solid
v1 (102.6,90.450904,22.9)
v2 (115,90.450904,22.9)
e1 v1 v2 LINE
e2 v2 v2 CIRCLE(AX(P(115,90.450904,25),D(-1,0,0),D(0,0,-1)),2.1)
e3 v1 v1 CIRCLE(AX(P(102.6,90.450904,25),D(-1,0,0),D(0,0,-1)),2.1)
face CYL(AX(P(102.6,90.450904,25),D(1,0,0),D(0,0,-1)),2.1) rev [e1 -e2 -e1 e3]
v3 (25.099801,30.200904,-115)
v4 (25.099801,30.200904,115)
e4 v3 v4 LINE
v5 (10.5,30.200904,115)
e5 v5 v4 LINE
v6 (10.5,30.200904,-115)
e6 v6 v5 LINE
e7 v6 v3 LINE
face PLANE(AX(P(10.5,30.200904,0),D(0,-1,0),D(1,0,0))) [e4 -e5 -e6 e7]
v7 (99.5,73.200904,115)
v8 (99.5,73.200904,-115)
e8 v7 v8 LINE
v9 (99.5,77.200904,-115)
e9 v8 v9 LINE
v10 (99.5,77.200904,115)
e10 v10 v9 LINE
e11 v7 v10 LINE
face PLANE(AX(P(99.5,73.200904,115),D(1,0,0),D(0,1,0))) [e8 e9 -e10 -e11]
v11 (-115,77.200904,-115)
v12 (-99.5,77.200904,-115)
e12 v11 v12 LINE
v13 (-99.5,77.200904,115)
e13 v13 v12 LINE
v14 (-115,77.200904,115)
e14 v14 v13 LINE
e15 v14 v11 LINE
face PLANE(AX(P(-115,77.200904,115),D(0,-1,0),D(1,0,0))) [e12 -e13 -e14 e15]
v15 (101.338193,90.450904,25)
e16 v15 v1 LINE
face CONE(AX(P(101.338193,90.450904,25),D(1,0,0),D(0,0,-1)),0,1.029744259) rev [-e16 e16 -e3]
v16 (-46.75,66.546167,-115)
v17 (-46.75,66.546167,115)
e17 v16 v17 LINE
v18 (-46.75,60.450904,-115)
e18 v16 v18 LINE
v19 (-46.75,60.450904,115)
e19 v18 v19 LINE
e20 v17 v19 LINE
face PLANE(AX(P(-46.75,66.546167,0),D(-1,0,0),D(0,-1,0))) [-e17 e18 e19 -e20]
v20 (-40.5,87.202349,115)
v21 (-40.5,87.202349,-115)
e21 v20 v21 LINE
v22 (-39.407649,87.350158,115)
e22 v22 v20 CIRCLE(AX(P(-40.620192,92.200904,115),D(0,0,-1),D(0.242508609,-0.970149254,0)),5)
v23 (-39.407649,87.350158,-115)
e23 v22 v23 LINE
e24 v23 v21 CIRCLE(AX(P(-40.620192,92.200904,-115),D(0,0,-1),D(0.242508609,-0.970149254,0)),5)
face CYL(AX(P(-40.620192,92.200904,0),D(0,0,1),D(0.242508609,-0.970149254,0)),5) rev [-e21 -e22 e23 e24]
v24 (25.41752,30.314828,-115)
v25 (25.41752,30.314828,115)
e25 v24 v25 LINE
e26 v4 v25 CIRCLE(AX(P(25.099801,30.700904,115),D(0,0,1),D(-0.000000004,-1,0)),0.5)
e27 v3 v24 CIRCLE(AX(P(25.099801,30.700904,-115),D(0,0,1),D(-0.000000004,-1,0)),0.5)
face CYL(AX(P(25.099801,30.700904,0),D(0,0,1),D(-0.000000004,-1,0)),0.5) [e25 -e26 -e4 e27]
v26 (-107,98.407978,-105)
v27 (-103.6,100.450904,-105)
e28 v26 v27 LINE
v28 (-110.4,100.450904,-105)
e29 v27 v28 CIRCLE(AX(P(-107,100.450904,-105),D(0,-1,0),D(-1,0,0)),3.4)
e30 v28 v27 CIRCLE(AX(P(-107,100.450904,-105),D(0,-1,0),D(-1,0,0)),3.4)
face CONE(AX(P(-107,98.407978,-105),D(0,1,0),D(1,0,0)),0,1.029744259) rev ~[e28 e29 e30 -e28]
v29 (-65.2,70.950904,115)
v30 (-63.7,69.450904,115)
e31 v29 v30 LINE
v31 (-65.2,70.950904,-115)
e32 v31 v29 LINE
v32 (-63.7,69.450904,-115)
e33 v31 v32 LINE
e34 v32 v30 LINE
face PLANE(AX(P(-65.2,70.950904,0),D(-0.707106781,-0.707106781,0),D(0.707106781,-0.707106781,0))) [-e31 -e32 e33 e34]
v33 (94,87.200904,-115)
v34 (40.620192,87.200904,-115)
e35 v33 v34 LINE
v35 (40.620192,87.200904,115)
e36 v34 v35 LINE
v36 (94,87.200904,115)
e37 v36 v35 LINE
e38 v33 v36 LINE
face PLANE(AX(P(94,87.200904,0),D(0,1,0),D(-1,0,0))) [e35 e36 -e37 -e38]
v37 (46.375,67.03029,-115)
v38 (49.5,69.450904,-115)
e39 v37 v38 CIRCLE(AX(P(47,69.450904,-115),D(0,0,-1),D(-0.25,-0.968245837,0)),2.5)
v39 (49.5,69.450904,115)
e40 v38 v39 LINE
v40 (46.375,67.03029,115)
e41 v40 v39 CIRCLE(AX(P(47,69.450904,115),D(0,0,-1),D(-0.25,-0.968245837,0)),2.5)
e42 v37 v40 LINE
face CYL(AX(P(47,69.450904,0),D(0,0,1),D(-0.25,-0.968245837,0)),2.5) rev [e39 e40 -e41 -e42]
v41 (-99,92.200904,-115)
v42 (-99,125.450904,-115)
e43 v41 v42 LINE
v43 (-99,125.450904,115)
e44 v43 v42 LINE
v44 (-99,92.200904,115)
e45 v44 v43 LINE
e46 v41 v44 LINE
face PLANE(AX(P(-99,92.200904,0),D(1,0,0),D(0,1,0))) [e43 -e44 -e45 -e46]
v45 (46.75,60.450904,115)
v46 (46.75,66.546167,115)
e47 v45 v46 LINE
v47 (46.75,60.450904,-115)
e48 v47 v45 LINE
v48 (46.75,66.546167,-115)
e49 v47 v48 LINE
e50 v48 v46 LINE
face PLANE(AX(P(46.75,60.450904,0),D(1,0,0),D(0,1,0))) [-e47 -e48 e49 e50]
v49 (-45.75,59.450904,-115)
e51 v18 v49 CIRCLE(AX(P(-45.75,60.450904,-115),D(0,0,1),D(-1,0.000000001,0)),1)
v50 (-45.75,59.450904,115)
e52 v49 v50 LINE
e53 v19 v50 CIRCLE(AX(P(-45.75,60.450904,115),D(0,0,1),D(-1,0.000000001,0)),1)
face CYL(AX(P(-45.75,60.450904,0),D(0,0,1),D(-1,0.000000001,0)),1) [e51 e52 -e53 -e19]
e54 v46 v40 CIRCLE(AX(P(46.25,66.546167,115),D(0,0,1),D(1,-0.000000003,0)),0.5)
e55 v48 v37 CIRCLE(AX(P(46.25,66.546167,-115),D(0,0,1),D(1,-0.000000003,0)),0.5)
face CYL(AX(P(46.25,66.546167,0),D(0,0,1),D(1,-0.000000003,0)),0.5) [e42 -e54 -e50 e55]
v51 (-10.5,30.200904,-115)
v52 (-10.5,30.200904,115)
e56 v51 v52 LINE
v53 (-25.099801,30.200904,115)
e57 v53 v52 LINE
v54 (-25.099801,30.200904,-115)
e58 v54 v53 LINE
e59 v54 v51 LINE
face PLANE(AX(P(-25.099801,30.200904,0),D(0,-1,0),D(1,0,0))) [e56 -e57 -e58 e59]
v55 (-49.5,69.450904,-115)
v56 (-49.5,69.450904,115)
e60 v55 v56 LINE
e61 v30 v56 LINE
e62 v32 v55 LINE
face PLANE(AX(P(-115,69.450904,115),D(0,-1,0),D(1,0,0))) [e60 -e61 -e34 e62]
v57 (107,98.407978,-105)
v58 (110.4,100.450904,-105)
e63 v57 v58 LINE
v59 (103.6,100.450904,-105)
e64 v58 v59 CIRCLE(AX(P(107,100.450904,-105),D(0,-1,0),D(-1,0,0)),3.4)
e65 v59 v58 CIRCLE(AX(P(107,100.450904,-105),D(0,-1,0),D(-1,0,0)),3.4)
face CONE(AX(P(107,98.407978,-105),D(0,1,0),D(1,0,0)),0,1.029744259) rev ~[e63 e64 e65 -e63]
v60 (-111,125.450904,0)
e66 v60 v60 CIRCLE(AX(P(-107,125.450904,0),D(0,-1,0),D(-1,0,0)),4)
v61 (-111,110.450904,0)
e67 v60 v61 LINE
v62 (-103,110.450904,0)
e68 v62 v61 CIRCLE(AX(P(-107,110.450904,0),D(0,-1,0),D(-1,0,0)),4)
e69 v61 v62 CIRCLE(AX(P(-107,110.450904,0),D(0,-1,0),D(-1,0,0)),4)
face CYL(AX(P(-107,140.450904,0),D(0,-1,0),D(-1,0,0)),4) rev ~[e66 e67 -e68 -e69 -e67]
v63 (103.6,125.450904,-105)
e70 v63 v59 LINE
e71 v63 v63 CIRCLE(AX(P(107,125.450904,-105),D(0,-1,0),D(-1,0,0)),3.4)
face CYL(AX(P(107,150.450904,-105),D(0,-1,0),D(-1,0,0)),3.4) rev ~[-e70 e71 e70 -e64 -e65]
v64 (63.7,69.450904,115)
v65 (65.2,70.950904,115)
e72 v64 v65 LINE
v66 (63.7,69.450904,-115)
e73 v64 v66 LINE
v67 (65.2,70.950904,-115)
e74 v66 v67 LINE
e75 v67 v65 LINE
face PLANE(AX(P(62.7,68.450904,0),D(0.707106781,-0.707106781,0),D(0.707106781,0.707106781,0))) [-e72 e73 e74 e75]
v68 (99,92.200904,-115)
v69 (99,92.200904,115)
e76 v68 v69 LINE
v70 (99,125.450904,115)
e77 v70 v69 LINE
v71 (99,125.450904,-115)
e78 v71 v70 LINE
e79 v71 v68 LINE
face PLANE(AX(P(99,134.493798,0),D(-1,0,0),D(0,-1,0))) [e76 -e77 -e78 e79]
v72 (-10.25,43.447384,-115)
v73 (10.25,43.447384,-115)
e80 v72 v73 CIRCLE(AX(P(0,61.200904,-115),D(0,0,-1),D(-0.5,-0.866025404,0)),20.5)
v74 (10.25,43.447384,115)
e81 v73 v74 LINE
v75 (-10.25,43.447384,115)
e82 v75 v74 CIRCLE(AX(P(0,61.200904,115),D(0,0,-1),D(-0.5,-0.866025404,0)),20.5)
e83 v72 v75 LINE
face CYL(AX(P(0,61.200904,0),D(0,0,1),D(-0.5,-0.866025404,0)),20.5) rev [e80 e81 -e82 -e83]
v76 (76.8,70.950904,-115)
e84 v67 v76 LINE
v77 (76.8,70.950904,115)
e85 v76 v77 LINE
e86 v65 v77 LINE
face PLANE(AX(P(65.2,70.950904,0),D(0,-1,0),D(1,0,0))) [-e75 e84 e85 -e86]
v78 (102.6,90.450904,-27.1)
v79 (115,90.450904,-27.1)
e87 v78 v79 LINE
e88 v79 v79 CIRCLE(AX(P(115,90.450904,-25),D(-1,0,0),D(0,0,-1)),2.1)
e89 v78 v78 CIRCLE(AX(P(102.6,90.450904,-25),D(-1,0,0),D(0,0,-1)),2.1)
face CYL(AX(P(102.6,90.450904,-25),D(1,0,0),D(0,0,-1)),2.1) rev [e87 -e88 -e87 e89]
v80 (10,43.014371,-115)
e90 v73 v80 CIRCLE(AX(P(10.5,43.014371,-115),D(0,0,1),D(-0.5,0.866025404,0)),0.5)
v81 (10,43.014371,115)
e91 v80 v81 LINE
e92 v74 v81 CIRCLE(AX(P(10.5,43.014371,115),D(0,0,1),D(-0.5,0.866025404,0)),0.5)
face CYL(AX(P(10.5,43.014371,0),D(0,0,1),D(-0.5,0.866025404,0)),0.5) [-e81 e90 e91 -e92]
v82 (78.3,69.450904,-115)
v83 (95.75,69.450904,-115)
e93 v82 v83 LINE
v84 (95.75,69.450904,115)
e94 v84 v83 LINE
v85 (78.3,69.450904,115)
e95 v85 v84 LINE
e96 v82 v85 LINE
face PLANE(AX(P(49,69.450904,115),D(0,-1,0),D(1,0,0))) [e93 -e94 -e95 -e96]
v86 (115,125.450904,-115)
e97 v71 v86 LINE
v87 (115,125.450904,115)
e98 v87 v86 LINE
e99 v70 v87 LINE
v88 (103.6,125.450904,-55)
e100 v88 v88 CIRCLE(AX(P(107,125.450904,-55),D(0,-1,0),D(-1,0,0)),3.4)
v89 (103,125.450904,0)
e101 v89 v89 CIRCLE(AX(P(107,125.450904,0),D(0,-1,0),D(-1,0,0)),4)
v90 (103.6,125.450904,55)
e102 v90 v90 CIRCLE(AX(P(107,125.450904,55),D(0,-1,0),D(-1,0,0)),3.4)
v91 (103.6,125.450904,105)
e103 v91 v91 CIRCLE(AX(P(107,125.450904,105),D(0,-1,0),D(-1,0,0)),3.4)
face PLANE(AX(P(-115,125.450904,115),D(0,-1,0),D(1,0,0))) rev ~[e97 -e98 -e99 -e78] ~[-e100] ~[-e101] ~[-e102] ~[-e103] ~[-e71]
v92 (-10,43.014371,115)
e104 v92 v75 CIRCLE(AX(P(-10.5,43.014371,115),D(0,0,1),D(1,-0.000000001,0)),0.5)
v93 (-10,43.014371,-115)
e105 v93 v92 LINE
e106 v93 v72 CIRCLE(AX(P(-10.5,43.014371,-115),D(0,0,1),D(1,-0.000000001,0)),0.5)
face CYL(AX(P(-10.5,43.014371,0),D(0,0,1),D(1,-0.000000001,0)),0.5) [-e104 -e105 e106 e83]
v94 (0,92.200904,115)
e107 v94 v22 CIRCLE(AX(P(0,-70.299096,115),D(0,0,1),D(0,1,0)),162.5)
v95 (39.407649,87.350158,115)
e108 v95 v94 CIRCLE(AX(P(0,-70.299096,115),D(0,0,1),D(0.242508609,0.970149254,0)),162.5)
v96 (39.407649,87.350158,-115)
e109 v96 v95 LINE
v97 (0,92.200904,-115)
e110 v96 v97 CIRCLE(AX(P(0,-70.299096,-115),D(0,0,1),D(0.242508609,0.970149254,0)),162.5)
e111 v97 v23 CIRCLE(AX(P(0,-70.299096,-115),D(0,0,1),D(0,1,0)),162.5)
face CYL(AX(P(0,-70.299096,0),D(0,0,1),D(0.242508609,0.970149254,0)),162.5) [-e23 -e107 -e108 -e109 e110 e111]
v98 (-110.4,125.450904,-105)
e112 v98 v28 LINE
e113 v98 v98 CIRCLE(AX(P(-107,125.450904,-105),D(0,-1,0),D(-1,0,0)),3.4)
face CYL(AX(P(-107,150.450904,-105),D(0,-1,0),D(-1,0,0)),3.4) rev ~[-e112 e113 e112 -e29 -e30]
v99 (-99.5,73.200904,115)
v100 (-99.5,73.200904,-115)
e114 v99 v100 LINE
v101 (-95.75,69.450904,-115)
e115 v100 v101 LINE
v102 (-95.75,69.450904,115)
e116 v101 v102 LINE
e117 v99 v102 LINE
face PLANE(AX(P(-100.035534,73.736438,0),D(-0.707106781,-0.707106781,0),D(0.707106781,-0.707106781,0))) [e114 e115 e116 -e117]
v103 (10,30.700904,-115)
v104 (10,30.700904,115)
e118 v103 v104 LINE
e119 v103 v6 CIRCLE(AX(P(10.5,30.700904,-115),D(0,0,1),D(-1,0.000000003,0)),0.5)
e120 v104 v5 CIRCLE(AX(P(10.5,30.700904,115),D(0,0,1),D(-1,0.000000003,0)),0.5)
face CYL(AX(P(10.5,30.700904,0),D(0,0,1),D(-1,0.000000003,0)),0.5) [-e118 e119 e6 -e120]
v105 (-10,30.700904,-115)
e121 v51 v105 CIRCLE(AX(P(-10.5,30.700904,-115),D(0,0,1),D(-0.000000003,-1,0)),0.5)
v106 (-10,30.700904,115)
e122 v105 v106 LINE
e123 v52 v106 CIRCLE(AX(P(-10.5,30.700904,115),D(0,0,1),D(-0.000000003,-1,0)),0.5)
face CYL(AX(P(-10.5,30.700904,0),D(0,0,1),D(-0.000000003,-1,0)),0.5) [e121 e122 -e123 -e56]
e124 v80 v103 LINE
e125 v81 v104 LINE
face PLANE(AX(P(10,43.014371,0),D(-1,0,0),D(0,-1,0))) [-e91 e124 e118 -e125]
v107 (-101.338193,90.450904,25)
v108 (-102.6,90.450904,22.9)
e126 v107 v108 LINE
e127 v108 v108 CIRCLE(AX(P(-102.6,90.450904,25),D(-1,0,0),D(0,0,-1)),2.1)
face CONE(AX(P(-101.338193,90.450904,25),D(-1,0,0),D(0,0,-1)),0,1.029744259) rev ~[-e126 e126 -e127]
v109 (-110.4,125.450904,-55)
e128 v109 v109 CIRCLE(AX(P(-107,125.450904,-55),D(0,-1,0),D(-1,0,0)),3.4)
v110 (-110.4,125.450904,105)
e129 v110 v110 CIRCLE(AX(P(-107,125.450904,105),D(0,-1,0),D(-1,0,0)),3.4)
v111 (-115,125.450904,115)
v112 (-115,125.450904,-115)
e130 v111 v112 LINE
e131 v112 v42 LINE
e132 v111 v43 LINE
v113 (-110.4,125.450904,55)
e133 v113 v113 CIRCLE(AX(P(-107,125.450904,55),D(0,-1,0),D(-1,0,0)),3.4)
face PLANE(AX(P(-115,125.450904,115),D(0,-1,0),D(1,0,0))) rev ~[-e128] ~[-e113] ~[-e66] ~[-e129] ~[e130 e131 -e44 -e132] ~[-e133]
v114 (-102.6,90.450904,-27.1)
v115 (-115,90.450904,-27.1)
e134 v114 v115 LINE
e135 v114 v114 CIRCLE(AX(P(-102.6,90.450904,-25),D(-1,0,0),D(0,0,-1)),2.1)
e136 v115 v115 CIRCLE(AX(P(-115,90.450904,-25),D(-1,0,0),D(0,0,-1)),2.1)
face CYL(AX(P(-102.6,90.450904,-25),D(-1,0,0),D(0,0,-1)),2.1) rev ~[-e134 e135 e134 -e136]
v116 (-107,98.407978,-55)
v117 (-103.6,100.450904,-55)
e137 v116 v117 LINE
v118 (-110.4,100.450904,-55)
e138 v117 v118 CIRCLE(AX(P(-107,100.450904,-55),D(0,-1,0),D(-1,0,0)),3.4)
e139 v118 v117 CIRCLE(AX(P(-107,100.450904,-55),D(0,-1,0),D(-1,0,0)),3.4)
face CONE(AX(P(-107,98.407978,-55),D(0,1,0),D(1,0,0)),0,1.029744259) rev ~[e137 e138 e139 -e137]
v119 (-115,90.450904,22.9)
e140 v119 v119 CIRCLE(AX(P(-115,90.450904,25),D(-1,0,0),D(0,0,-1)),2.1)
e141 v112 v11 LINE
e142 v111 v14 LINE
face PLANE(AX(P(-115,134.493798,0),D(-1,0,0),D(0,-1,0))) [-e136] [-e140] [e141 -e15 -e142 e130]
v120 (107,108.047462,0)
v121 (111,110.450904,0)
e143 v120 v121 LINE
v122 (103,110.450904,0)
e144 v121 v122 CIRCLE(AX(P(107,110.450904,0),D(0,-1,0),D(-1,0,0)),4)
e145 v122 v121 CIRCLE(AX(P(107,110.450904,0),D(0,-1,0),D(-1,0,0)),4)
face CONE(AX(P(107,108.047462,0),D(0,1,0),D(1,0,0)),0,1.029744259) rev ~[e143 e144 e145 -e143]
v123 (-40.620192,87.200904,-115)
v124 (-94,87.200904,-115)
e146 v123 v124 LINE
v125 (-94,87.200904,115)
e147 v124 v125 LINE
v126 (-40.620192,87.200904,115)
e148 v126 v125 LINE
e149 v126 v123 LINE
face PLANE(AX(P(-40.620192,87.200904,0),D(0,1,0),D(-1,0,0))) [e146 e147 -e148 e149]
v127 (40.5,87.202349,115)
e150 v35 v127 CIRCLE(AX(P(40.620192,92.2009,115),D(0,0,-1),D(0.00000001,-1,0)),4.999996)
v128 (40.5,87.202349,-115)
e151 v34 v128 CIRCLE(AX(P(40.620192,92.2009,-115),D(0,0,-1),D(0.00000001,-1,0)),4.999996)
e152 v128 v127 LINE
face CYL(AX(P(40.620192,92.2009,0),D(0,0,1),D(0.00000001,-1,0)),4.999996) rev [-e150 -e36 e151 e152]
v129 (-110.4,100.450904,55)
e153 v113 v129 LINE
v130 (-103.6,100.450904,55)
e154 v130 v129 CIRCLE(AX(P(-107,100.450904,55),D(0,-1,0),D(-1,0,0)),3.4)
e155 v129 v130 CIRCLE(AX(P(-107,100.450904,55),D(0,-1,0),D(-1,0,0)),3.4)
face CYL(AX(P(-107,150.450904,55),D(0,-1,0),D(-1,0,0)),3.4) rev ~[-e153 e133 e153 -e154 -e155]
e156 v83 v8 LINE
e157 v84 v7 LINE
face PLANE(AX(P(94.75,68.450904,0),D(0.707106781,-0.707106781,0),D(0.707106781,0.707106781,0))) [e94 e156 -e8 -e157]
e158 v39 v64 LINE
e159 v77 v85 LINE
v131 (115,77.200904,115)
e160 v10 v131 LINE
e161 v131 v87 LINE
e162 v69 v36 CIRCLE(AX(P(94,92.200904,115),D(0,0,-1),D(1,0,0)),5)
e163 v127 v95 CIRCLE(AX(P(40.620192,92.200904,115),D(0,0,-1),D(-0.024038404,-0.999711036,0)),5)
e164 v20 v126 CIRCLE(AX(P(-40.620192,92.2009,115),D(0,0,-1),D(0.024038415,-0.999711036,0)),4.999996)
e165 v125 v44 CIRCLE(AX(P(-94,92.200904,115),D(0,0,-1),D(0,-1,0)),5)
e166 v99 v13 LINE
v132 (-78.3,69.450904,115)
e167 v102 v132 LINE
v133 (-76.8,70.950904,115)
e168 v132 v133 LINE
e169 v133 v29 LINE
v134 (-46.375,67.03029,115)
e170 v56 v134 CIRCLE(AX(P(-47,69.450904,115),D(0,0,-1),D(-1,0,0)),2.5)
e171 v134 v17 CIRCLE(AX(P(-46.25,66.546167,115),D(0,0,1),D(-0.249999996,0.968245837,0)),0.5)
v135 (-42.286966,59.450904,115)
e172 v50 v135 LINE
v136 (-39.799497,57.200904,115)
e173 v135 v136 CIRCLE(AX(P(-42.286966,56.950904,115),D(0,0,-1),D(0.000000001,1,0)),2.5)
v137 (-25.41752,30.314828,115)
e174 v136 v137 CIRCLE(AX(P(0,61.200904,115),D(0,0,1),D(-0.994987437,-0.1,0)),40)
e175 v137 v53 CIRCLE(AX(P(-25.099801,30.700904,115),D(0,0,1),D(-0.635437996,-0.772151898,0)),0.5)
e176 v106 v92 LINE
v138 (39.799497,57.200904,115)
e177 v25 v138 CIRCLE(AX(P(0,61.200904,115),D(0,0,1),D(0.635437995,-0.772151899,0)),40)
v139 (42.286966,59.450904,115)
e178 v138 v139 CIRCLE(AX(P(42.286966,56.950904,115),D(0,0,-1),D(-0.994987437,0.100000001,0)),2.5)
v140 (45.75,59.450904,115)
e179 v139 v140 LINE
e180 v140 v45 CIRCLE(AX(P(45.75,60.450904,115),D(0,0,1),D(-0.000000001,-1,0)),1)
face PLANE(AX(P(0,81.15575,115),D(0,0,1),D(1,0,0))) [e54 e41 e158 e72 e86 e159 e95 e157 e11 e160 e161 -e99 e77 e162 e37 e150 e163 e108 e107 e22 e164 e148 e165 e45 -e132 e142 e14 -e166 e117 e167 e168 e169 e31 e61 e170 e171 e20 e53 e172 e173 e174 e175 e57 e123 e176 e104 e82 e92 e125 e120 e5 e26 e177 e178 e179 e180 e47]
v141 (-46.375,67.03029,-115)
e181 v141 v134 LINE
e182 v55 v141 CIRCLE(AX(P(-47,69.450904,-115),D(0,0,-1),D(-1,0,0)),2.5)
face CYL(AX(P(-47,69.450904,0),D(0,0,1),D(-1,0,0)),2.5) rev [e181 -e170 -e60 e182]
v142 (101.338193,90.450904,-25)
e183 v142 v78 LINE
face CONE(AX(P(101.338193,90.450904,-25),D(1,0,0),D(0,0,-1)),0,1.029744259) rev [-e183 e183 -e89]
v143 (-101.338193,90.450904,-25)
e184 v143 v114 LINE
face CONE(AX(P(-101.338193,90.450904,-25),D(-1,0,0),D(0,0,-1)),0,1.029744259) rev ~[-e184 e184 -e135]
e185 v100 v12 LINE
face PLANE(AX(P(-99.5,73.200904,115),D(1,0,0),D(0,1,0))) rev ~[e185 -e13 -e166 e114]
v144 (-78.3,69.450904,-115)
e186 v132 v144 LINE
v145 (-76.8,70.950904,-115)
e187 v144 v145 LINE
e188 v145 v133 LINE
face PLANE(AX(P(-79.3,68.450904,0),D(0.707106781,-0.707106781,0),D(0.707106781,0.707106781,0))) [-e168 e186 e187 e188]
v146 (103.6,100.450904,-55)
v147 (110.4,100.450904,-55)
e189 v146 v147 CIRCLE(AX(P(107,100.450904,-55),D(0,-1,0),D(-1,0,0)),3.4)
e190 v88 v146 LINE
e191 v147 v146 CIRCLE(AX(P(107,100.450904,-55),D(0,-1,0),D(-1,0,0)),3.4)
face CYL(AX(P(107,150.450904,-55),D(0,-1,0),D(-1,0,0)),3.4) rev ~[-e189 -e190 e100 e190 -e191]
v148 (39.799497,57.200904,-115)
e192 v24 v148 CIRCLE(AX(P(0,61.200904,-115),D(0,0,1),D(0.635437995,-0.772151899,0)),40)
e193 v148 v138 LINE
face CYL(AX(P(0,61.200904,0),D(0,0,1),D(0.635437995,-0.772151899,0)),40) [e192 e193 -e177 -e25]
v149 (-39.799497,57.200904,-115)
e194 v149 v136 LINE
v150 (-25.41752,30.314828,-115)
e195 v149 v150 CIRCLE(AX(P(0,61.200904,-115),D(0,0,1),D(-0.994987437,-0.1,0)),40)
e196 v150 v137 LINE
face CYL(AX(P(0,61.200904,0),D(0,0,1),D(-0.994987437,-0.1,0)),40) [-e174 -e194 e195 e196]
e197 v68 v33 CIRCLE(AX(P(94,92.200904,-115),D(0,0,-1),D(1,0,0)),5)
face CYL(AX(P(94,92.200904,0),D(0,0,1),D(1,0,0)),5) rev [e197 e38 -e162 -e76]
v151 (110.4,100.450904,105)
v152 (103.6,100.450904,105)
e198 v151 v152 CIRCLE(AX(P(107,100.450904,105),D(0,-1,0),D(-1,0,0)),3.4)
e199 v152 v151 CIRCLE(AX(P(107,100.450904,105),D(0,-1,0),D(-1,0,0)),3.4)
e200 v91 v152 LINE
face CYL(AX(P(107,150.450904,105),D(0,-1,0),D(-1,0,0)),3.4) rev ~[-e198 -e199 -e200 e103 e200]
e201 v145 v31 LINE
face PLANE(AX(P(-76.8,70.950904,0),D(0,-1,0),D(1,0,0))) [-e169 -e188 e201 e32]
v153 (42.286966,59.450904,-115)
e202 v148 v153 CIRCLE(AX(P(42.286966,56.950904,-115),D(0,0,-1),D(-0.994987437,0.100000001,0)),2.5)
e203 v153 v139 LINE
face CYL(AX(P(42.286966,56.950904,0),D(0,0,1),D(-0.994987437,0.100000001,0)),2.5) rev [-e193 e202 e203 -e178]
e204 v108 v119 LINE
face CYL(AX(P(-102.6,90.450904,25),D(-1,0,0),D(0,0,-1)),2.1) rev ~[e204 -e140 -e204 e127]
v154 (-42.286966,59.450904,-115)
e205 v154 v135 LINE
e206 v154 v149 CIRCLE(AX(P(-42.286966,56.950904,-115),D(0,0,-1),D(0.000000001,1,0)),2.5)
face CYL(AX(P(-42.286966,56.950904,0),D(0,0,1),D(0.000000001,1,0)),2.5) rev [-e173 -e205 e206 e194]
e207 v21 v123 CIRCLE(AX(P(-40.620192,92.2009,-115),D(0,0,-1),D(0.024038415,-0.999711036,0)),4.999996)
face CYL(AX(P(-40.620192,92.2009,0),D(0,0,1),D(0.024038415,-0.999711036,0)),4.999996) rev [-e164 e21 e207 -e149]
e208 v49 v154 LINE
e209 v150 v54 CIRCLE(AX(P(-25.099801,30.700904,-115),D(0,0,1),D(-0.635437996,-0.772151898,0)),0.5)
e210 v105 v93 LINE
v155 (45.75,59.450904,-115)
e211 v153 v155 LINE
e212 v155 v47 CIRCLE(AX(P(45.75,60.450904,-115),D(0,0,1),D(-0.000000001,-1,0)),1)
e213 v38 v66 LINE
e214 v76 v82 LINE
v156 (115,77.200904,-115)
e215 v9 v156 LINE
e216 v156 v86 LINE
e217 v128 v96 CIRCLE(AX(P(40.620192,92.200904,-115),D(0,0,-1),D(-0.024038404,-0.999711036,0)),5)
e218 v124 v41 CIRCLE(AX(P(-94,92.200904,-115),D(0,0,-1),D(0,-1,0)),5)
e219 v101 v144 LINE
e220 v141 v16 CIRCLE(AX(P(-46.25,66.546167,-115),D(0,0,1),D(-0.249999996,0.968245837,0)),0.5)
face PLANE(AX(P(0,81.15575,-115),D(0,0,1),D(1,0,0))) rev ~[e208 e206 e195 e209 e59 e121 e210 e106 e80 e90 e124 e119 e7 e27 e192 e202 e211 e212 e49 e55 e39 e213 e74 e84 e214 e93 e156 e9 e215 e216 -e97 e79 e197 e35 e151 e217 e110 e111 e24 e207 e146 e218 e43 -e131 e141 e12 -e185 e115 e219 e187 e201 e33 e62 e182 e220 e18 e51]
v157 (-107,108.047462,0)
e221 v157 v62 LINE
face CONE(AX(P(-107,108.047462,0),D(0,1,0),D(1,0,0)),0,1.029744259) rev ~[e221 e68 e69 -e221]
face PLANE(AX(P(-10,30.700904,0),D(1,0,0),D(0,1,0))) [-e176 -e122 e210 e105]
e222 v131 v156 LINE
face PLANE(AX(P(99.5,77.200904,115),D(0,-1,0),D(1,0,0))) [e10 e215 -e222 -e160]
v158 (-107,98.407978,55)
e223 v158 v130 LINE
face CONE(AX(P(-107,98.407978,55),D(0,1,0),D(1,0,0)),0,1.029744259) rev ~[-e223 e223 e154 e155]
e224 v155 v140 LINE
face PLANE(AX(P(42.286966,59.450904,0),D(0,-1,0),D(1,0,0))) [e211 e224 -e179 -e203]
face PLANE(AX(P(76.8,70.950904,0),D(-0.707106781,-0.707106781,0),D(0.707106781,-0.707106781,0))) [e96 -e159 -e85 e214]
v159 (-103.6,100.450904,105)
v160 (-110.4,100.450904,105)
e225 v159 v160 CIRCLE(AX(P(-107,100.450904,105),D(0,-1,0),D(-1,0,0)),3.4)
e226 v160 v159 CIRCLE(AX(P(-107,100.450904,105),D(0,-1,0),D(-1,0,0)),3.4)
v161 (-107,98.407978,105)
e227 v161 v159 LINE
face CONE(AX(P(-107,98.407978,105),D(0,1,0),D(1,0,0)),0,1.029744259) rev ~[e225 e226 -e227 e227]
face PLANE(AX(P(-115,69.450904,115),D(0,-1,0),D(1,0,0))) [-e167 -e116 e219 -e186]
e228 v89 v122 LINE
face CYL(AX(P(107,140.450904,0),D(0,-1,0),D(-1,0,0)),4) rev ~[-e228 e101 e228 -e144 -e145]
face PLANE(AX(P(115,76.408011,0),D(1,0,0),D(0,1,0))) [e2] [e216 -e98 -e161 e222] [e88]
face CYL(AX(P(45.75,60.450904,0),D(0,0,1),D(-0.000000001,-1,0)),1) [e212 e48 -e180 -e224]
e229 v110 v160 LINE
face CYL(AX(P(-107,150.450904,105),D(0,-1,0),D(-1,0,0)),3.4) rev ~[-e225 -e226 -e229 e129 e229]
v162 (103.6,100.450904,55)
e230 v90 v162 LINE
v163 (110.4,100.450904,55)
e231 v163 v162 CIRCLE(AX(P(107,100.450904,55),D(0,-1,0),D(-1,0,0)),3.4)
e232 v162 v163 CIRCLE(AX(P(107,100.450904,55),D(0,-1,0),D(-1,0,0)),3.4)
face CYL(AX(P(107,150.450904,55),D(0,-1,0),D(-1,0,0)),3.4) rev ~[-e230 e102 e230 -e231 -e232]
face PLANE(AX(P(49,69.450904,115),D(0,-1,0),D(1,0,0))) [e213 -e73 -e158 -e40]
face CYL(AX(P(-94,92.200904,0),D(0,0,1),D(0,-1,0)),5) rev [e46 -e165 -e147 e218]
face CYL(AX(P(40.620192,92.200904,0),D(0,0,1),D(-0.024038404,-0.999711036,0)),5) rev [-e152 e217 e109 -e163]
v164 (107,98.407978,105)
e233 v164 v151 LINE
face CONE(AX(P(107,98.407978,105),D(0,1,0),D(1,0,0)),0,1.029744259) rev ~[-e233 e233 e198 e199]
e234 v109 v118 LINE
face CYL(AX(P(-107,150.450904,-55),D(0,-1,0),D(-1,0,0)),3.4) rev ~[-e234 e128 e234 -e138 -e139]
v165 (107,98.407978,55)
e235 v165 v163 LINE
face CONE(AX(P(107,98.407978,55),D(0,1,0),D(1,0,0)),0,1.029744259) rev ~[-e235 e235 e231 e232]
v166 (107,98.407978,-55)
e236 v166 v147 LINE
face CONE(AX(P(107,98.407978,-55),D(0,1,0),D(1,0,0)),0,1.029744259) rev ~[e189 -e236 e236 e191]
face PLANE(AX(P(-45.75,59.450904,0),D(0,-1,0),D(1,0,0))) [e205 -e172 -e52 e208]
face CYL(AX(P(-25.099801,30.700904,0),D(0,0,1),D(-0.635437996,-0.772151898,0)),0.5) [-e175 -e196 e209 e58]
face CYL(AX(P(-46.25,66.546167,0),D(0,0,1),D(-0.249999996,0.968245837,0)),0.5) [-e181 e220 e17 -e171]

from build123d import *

# Parameters (mm, degrees)
EXTRUDE_1_DEPTH             = 115
SKETCH_2_W                  = 66
SKETCH_2_H                  = 5
SKETCH_2_W_2                = 230
SKETCH_2_H_2                = 11.25
SKETCH_2_W_3                = 15.5
SKETCH_2_H_3                = 4
CUT_EXTRUDE_1_DEPTH         = 292.225234599
HOLE_WIZARD_M8_1_D          = 6.8
HOLE_WIZARD_M8_1_DEPTH      = 25
HOLE_WIZARD_M8_1_TIP        = 2.042926105
MM_1_D                      = 8
MM_1_DEPTH                  = 15
MM_1_TIP                    = 2.403442476
HOLE_WIZARD_M5_1_AT_2_COUNT = 2
HOLE_WIZARD_M5_1_AT_2_PITCH = 50


with BuildPart() as part:
    # 草图1 → 凸台-拉伸1 (new, symmetric)
    with BuildSketch(Plane.XY):
        with BuildLine():
            Line((-40.620192023, 87.200904414), (-94, 87.200904414))
            ThreePointArc((-94, 87.200904414), (-97.535533906, 88.665370508), (-99, 92.200904414))
            Line((-99, 92.200904414), (-99, 134.493797632))
            ThreePointArc((-99, 134.493797632), (-99.038060234, 134.685139349), (-99.146446609, 134.847351023))
            Line((-99.146446609, 134.847351023), (-100.853553391, 136.554457804))
            ThreePointArc((-100.853553391, 136.554457804), (-101.015765065, 136.66284418), (-101.207106781, 136.700904414))
            Line((-101.207106781, 136.700904414), (-112.792893219, 136.700904414))
            ThreePointArc((-112.792893219, 136.700904414), (-112.984234935, 136.66284418), (-113.146446609, 136.554457804))
            Line((-113.146446609, 136.554457804), (-114.853553391, 134.847351023))
            ThreePointArc((-114.853553391, 134.847351023), (-114.961939766, 134.685139349), (-115, 134.493797633))
            Line((-115, 134.493797633), (-115, 76.408011195))
            ThreePointArc((-115, 76.408011195), (-114.961939766, 76.216669479), (-114.853553391, 76.054457804))
            Line((-114.853553391, 76.054457804), (-114.146446609, 75.347351023))
            ThreePointArc((-114.146446609, 75.347351023), (-113.984234935, 75.238964647), (-113.792893219, 75.200904414))
            Line((-113.792893219, 75.200904414), (-103.571067812, 75.200904414))
            ThreePointArc((-103.571067812, 75.200904414), (-101.65765065, 74.820302076), (-100.035533906, 73.73643832))
            Line((-100.035533906, 73.73643832), (-94.75, 68.450904414))
            Line((-94.75, 68.450904414), (-79.3, 68.450904414))
            Line((-79.3, 68.450904414), (-76.8, 70.950904414))
            Line((-76.8, 70.950904414), (-65.2, 70.950904414))
            Line((-65.2, 70.950904414), (-62.7, 68.450904414))
            Line((-62.7, 68.450904414), (-50, 68.450904414))
            ThreePointArc((-50, 68.450904414), (-49.646446609, 68.597351023), (-49.5, 68.950904414))
            Line((-49.5, 68.950904414), (-49.5, 69.450904414))
            ThreePointArc((-49.5, 69.450904414), (-45.469068911, 71.427327951), (-46.375, 67.030289822))
            ThreePointArc((-46.375, 67.030289822), (-46.645284708, 66.852353122), (-46.75, 66.546166904))
            Line((-46.75, 66.546166904), (-46.75, 60.450904414))
            ThreePointArc((-46.75, 60.450904414), (-46.457106781, 59.743797632), (-45.75, 59.450904414))
            Line((-45.75, 59.450904414), (-42.286966077, 59.450904414))
            ThreePointArc((-42.286966077, 59.450904414), (-40.609915094, 58.804954035), (-39.799497484, 57.200904414))
            ThreePointArc((-39.799497484, 57.200904414), (-35.270810958, 42.333739964), (-25.417519793, 30.314828464))
            ThreePointArc((-25.417519793, 30.314828464), (-25.268563981, 30.230246377), (-25.099800796, 30.200904414))
            Line((-25.099800796, 30.200904414), (-10.5, 30.200904414))
            ThreePointArc((-10.5, 30.200904414), (-10.146446609, 30.347351023), (-10, 30.700904414))
            Line((-10, 30.700904414), (-10, 43.014370934))
            ThreePointArc((-10, 43.014370934), (-10.066987298, 43.264370934), (-10.25, 43.447383636))
            ThreePointArc((-10.25, 43.447383636), (0, 81.700904414), (10.25, 43.447383636))
            ThreePointArc((10.25, 43.447383636), (10.066987298, 43.264370934), (10, 43.014370934))
            Line((10, 43.014370934), (10, 30.700904414))
            ThreePointArc((10, 30.700904414), (10.146446609, 30.347351023), (10.5, 30.200904414))
            Line((10.5, 30.200904414), (25.099800796, 30.200904414))
            ThreePointArc((25.099800796, 30.200904414), (25.268563981, 30.230246377), (25.417519793, 30.314828464))
            ThreePointArc((25.417519793, 30.314828464), (35.270810958, 42.333739964), (39.799497484, 57.200904414))
            ThreePointArc((39.799497484, 57.200904414), (40.609915094, 58.804954035), (42.286966077, 59.450904414))
            Line((42.286966077, 59.450904414), (45.75, 59.450904414))
            ThreePointArc((45.75, 59.450904414), (46.457106781, 59.743797632), (46.75, 60.450904414))
            Line((46.75, 60.450904414), (46.75, 66.546166904))
            ThreePointArc((46.75, 66.546166904), (46.645284708, 66.852353122), (46.375, 67.030289822))
            ThreePointArc((46.375, 67.030289822), (45.469068911, 71.427327951), (49.5, 69.450904414))
            Line((49.5, 69.450904414), (49.5, 68.950904414))
            ThreePointArc((49.5, 68.950904414), (49.646446609, 68.597351023), (50, 68.450904414))
            Line((50, 68.450904414), (62.7, 68.450904414))
            Line((62.7, 68.450904414), (65.2, 70.950904414))
            Line((65.2, 70.950904414), (76.8, 70.950904414))
            Line((76.8, 70.950904414), (79.3, 68.450904414))
            Line((79.3, 68.450904414), (94.75, 68.450904414))
            Line((94.75, 68.450904414), (100.035533906, 73.73643832))
            ThreePointArc((100.035533906, 73.73643832), (101.65765065, 74.820302076), (103.571067812, 75.200904414))
            Line((103.571067812, 75.200904414), (113.792893219, 75.200904414))
            ThreePointArc((113.792893219, 75.200904414), (113.984234935, 75.238964647), (114.146446609, 75.347351023))
            Line((114.146446609, 75.347351023), (114.853553391, 76.054457804))
            ThreePointArc((114.853553391, 76.054457804), (114.961939766, 76.216669479), (115, 76.408011195))
            Line((115, 76.408011195), (115, 134.493797632))
            ThreePointArc((115, 134.493797632), (114.961939766, 134.685139348), (114.853553391, 134.847351023))
            Line((114.853553391, 134.847351023), (113.146446609, 136.554457804))
            ThreePointArc((113.146446609, 136.554457804), (112.984234935, 136.66284418), (112.792893219, 136.700904414))
            Line((112.792893219, 136.700904414), (101.207106781, 136.700904414))
            ThreePointArc((101.207106781, 136.700904414), (101.015765065, 136.66284418), (100.853553391, 136.554457804))
            Line((100.853553391, 136.554457804), (99.146446609, 134.847351023))
            ThreePointArc((99.146446609, 134.847351023), (99.038060234, 134.685139349), (99, 134.493797632))
            Line((99, 134.493797632), (99, 92.200904414))
            ThreePointArc((99, 92.200904414), (97.535533906, 88.665370508), (94, 87.200904414))
            Line((94, 87.200904414), (40.620192023, 87.200904414))
            ThreePointArc((40.620192023, 87.200904414), (40.56009167, 87.201265632), (40.5, 87.202349235))
            ThreePointArc((40.5, 87.202349235), (39.949738775, 87.246059064), (39.407648979, 87.350158145))
            ThreePointArc((39.407648979, 87.350158145), (19.852534709, 90.98365881), (0, 92.200904414))
            ThreePointArc((0, 92.200904414), (-19.852534708, 90.98365881), (-39.407648978, 87.350158145))
            ThreePointArc((-39.407648978, 87.350158145), (-39.949738774, 87.246059064), (-40.5, 87.202349235))
            ThreePointArc((-40.5, 87.202349235), (-40.56009167, 87.201265632), (-40.620192023, 87.200904414))
        make_face()
    extrude(amount=EXTRUDE_1_DEPTH, both=True)

    # 草图2 → 切除-拉伸1 (cut, through all)
    with BuildSketch(Plane.XY.offset(115)):
        with Locations((-82, 66.950904414)):
            Rectangle(SKETCH_2_W, SKETCH_2_H)
        with Locations((0, 131.075904414)):
            Rectangle(SKETCH_2_W_2, SKETCH_2_H_2)
        with Locations((82, 66.950904414)):
            Rectangle(SKETCH_2_W, SKETCH_2_H)
        with Locations((-107.25, 75.200904414)):
            Rectangle(SKETCH_2_W_3, SKETCH_2_H_3)
        with Locations((107.25, 75.200904414)):
            Rectangle(SKETCH_2_W_3, SKETCH_2_H_3)
    extrude(amount=-CUT_EXTRUDE_1_DEPTH, mode=Mode.SUBTRACT)

    # M8 螺纹孔1
    with Locations(Plane(origin=(0, 125.450904414, 0), x_dir=(1, 0, 0), z_dir=(0, 1, 0))):
        with Locations((-107, 105), (-107, -55), (-107, 55), (-107, -105), (107, 55), (107, -105), (107, 105), (107, -55)):
            Hole(HOLE_WIZARD_M8_1_D / 2, depth=HOLE_WIZARD_M8_1_DEPTH)
            with Locations((0, 0, -(HOLE_WIZARD_M8_1_DEPTH + HOLE_WIZARD_M8_1_TIP / 2))):  # 118° drill point
                Cone(0, HOLE_WIZARD_M8_1_D / 2, HOLE_WIZARD_M8_1_TIP, mode=Mode.SUBTRACT)

    # 大小mm 暗销孔1
    with Locations(Plane(origin=(0, 125.450904414, 0), x_dir=(1, 0, 0), z_dir=(0, 1, 0))):
        with Locations((-107, 0), (107, 0)):
            Hole(MM_1_D / 2, depth=MM_1_DEPTH)
            with Locations((0, 0, -(MM_1_DEPTH + MM_1_TIP / 2))):  # 118° drill point
                Cone(0, MM_1_D / 2, MM_1_TIP, mode=Mode.SUBTRACT)

    # 草图13 → M5 螺纹孔1 (revolve, cut)
    with BuildSketch(Plane(origin=(115, 90.450904414, 25), x_dir=(0, 0, -1), z_dir=(0, 1, 0))):
        Polygon((0, 0), (0, 13.6618073), (2.1, 12.4), (2.1, 0), align=None)
    hole_wizard_m5_1 = revolve(axis=Axis((121.35, 90.450904414, 25), (-1, 0, 0)), mode=Mode.SUBTRACT)

    # M5 螺纹孔1 at 2: M5 螺纹孔1 ×2
    with Locations(*[(0, 0, -i * HOLE_WIZARD_M5_1_AT_2_PITCH) for i in range(1, HOLE_WIZARD_M5_1_AT_2_COUNT)]):
        add(hole_wizard_m5_1, mode=Mode.SUBTRACT)

    # 镜向1: M5 螺纹孔1 across plane
    add(hole_wizard_m5_1.mirror(Plane(origin=(0, 0, 0), x_dir=(0, 0, 1), z_dir=(1, 0, 0))), mode=Mode.SUBTRACT)

    # 镜向1 copy 1 sketch → 镜向1 copy 1 (revolve, cut)
    with BuildSketch(Plane(origin=(-115, 90.450904414, -25), x_dir=(0, 0, -1), z_dir=(0, 1, 0))):
        Polygon((0, 0), (0, -13.6618073), (2.1, -12.4), (2.1, 0), align=None)
    revolve(axis=Axis((-121.35, 90.450904414, -25), (-1, 0, 0)), mode=Mode.SUBTRACT)


solid = part.part
